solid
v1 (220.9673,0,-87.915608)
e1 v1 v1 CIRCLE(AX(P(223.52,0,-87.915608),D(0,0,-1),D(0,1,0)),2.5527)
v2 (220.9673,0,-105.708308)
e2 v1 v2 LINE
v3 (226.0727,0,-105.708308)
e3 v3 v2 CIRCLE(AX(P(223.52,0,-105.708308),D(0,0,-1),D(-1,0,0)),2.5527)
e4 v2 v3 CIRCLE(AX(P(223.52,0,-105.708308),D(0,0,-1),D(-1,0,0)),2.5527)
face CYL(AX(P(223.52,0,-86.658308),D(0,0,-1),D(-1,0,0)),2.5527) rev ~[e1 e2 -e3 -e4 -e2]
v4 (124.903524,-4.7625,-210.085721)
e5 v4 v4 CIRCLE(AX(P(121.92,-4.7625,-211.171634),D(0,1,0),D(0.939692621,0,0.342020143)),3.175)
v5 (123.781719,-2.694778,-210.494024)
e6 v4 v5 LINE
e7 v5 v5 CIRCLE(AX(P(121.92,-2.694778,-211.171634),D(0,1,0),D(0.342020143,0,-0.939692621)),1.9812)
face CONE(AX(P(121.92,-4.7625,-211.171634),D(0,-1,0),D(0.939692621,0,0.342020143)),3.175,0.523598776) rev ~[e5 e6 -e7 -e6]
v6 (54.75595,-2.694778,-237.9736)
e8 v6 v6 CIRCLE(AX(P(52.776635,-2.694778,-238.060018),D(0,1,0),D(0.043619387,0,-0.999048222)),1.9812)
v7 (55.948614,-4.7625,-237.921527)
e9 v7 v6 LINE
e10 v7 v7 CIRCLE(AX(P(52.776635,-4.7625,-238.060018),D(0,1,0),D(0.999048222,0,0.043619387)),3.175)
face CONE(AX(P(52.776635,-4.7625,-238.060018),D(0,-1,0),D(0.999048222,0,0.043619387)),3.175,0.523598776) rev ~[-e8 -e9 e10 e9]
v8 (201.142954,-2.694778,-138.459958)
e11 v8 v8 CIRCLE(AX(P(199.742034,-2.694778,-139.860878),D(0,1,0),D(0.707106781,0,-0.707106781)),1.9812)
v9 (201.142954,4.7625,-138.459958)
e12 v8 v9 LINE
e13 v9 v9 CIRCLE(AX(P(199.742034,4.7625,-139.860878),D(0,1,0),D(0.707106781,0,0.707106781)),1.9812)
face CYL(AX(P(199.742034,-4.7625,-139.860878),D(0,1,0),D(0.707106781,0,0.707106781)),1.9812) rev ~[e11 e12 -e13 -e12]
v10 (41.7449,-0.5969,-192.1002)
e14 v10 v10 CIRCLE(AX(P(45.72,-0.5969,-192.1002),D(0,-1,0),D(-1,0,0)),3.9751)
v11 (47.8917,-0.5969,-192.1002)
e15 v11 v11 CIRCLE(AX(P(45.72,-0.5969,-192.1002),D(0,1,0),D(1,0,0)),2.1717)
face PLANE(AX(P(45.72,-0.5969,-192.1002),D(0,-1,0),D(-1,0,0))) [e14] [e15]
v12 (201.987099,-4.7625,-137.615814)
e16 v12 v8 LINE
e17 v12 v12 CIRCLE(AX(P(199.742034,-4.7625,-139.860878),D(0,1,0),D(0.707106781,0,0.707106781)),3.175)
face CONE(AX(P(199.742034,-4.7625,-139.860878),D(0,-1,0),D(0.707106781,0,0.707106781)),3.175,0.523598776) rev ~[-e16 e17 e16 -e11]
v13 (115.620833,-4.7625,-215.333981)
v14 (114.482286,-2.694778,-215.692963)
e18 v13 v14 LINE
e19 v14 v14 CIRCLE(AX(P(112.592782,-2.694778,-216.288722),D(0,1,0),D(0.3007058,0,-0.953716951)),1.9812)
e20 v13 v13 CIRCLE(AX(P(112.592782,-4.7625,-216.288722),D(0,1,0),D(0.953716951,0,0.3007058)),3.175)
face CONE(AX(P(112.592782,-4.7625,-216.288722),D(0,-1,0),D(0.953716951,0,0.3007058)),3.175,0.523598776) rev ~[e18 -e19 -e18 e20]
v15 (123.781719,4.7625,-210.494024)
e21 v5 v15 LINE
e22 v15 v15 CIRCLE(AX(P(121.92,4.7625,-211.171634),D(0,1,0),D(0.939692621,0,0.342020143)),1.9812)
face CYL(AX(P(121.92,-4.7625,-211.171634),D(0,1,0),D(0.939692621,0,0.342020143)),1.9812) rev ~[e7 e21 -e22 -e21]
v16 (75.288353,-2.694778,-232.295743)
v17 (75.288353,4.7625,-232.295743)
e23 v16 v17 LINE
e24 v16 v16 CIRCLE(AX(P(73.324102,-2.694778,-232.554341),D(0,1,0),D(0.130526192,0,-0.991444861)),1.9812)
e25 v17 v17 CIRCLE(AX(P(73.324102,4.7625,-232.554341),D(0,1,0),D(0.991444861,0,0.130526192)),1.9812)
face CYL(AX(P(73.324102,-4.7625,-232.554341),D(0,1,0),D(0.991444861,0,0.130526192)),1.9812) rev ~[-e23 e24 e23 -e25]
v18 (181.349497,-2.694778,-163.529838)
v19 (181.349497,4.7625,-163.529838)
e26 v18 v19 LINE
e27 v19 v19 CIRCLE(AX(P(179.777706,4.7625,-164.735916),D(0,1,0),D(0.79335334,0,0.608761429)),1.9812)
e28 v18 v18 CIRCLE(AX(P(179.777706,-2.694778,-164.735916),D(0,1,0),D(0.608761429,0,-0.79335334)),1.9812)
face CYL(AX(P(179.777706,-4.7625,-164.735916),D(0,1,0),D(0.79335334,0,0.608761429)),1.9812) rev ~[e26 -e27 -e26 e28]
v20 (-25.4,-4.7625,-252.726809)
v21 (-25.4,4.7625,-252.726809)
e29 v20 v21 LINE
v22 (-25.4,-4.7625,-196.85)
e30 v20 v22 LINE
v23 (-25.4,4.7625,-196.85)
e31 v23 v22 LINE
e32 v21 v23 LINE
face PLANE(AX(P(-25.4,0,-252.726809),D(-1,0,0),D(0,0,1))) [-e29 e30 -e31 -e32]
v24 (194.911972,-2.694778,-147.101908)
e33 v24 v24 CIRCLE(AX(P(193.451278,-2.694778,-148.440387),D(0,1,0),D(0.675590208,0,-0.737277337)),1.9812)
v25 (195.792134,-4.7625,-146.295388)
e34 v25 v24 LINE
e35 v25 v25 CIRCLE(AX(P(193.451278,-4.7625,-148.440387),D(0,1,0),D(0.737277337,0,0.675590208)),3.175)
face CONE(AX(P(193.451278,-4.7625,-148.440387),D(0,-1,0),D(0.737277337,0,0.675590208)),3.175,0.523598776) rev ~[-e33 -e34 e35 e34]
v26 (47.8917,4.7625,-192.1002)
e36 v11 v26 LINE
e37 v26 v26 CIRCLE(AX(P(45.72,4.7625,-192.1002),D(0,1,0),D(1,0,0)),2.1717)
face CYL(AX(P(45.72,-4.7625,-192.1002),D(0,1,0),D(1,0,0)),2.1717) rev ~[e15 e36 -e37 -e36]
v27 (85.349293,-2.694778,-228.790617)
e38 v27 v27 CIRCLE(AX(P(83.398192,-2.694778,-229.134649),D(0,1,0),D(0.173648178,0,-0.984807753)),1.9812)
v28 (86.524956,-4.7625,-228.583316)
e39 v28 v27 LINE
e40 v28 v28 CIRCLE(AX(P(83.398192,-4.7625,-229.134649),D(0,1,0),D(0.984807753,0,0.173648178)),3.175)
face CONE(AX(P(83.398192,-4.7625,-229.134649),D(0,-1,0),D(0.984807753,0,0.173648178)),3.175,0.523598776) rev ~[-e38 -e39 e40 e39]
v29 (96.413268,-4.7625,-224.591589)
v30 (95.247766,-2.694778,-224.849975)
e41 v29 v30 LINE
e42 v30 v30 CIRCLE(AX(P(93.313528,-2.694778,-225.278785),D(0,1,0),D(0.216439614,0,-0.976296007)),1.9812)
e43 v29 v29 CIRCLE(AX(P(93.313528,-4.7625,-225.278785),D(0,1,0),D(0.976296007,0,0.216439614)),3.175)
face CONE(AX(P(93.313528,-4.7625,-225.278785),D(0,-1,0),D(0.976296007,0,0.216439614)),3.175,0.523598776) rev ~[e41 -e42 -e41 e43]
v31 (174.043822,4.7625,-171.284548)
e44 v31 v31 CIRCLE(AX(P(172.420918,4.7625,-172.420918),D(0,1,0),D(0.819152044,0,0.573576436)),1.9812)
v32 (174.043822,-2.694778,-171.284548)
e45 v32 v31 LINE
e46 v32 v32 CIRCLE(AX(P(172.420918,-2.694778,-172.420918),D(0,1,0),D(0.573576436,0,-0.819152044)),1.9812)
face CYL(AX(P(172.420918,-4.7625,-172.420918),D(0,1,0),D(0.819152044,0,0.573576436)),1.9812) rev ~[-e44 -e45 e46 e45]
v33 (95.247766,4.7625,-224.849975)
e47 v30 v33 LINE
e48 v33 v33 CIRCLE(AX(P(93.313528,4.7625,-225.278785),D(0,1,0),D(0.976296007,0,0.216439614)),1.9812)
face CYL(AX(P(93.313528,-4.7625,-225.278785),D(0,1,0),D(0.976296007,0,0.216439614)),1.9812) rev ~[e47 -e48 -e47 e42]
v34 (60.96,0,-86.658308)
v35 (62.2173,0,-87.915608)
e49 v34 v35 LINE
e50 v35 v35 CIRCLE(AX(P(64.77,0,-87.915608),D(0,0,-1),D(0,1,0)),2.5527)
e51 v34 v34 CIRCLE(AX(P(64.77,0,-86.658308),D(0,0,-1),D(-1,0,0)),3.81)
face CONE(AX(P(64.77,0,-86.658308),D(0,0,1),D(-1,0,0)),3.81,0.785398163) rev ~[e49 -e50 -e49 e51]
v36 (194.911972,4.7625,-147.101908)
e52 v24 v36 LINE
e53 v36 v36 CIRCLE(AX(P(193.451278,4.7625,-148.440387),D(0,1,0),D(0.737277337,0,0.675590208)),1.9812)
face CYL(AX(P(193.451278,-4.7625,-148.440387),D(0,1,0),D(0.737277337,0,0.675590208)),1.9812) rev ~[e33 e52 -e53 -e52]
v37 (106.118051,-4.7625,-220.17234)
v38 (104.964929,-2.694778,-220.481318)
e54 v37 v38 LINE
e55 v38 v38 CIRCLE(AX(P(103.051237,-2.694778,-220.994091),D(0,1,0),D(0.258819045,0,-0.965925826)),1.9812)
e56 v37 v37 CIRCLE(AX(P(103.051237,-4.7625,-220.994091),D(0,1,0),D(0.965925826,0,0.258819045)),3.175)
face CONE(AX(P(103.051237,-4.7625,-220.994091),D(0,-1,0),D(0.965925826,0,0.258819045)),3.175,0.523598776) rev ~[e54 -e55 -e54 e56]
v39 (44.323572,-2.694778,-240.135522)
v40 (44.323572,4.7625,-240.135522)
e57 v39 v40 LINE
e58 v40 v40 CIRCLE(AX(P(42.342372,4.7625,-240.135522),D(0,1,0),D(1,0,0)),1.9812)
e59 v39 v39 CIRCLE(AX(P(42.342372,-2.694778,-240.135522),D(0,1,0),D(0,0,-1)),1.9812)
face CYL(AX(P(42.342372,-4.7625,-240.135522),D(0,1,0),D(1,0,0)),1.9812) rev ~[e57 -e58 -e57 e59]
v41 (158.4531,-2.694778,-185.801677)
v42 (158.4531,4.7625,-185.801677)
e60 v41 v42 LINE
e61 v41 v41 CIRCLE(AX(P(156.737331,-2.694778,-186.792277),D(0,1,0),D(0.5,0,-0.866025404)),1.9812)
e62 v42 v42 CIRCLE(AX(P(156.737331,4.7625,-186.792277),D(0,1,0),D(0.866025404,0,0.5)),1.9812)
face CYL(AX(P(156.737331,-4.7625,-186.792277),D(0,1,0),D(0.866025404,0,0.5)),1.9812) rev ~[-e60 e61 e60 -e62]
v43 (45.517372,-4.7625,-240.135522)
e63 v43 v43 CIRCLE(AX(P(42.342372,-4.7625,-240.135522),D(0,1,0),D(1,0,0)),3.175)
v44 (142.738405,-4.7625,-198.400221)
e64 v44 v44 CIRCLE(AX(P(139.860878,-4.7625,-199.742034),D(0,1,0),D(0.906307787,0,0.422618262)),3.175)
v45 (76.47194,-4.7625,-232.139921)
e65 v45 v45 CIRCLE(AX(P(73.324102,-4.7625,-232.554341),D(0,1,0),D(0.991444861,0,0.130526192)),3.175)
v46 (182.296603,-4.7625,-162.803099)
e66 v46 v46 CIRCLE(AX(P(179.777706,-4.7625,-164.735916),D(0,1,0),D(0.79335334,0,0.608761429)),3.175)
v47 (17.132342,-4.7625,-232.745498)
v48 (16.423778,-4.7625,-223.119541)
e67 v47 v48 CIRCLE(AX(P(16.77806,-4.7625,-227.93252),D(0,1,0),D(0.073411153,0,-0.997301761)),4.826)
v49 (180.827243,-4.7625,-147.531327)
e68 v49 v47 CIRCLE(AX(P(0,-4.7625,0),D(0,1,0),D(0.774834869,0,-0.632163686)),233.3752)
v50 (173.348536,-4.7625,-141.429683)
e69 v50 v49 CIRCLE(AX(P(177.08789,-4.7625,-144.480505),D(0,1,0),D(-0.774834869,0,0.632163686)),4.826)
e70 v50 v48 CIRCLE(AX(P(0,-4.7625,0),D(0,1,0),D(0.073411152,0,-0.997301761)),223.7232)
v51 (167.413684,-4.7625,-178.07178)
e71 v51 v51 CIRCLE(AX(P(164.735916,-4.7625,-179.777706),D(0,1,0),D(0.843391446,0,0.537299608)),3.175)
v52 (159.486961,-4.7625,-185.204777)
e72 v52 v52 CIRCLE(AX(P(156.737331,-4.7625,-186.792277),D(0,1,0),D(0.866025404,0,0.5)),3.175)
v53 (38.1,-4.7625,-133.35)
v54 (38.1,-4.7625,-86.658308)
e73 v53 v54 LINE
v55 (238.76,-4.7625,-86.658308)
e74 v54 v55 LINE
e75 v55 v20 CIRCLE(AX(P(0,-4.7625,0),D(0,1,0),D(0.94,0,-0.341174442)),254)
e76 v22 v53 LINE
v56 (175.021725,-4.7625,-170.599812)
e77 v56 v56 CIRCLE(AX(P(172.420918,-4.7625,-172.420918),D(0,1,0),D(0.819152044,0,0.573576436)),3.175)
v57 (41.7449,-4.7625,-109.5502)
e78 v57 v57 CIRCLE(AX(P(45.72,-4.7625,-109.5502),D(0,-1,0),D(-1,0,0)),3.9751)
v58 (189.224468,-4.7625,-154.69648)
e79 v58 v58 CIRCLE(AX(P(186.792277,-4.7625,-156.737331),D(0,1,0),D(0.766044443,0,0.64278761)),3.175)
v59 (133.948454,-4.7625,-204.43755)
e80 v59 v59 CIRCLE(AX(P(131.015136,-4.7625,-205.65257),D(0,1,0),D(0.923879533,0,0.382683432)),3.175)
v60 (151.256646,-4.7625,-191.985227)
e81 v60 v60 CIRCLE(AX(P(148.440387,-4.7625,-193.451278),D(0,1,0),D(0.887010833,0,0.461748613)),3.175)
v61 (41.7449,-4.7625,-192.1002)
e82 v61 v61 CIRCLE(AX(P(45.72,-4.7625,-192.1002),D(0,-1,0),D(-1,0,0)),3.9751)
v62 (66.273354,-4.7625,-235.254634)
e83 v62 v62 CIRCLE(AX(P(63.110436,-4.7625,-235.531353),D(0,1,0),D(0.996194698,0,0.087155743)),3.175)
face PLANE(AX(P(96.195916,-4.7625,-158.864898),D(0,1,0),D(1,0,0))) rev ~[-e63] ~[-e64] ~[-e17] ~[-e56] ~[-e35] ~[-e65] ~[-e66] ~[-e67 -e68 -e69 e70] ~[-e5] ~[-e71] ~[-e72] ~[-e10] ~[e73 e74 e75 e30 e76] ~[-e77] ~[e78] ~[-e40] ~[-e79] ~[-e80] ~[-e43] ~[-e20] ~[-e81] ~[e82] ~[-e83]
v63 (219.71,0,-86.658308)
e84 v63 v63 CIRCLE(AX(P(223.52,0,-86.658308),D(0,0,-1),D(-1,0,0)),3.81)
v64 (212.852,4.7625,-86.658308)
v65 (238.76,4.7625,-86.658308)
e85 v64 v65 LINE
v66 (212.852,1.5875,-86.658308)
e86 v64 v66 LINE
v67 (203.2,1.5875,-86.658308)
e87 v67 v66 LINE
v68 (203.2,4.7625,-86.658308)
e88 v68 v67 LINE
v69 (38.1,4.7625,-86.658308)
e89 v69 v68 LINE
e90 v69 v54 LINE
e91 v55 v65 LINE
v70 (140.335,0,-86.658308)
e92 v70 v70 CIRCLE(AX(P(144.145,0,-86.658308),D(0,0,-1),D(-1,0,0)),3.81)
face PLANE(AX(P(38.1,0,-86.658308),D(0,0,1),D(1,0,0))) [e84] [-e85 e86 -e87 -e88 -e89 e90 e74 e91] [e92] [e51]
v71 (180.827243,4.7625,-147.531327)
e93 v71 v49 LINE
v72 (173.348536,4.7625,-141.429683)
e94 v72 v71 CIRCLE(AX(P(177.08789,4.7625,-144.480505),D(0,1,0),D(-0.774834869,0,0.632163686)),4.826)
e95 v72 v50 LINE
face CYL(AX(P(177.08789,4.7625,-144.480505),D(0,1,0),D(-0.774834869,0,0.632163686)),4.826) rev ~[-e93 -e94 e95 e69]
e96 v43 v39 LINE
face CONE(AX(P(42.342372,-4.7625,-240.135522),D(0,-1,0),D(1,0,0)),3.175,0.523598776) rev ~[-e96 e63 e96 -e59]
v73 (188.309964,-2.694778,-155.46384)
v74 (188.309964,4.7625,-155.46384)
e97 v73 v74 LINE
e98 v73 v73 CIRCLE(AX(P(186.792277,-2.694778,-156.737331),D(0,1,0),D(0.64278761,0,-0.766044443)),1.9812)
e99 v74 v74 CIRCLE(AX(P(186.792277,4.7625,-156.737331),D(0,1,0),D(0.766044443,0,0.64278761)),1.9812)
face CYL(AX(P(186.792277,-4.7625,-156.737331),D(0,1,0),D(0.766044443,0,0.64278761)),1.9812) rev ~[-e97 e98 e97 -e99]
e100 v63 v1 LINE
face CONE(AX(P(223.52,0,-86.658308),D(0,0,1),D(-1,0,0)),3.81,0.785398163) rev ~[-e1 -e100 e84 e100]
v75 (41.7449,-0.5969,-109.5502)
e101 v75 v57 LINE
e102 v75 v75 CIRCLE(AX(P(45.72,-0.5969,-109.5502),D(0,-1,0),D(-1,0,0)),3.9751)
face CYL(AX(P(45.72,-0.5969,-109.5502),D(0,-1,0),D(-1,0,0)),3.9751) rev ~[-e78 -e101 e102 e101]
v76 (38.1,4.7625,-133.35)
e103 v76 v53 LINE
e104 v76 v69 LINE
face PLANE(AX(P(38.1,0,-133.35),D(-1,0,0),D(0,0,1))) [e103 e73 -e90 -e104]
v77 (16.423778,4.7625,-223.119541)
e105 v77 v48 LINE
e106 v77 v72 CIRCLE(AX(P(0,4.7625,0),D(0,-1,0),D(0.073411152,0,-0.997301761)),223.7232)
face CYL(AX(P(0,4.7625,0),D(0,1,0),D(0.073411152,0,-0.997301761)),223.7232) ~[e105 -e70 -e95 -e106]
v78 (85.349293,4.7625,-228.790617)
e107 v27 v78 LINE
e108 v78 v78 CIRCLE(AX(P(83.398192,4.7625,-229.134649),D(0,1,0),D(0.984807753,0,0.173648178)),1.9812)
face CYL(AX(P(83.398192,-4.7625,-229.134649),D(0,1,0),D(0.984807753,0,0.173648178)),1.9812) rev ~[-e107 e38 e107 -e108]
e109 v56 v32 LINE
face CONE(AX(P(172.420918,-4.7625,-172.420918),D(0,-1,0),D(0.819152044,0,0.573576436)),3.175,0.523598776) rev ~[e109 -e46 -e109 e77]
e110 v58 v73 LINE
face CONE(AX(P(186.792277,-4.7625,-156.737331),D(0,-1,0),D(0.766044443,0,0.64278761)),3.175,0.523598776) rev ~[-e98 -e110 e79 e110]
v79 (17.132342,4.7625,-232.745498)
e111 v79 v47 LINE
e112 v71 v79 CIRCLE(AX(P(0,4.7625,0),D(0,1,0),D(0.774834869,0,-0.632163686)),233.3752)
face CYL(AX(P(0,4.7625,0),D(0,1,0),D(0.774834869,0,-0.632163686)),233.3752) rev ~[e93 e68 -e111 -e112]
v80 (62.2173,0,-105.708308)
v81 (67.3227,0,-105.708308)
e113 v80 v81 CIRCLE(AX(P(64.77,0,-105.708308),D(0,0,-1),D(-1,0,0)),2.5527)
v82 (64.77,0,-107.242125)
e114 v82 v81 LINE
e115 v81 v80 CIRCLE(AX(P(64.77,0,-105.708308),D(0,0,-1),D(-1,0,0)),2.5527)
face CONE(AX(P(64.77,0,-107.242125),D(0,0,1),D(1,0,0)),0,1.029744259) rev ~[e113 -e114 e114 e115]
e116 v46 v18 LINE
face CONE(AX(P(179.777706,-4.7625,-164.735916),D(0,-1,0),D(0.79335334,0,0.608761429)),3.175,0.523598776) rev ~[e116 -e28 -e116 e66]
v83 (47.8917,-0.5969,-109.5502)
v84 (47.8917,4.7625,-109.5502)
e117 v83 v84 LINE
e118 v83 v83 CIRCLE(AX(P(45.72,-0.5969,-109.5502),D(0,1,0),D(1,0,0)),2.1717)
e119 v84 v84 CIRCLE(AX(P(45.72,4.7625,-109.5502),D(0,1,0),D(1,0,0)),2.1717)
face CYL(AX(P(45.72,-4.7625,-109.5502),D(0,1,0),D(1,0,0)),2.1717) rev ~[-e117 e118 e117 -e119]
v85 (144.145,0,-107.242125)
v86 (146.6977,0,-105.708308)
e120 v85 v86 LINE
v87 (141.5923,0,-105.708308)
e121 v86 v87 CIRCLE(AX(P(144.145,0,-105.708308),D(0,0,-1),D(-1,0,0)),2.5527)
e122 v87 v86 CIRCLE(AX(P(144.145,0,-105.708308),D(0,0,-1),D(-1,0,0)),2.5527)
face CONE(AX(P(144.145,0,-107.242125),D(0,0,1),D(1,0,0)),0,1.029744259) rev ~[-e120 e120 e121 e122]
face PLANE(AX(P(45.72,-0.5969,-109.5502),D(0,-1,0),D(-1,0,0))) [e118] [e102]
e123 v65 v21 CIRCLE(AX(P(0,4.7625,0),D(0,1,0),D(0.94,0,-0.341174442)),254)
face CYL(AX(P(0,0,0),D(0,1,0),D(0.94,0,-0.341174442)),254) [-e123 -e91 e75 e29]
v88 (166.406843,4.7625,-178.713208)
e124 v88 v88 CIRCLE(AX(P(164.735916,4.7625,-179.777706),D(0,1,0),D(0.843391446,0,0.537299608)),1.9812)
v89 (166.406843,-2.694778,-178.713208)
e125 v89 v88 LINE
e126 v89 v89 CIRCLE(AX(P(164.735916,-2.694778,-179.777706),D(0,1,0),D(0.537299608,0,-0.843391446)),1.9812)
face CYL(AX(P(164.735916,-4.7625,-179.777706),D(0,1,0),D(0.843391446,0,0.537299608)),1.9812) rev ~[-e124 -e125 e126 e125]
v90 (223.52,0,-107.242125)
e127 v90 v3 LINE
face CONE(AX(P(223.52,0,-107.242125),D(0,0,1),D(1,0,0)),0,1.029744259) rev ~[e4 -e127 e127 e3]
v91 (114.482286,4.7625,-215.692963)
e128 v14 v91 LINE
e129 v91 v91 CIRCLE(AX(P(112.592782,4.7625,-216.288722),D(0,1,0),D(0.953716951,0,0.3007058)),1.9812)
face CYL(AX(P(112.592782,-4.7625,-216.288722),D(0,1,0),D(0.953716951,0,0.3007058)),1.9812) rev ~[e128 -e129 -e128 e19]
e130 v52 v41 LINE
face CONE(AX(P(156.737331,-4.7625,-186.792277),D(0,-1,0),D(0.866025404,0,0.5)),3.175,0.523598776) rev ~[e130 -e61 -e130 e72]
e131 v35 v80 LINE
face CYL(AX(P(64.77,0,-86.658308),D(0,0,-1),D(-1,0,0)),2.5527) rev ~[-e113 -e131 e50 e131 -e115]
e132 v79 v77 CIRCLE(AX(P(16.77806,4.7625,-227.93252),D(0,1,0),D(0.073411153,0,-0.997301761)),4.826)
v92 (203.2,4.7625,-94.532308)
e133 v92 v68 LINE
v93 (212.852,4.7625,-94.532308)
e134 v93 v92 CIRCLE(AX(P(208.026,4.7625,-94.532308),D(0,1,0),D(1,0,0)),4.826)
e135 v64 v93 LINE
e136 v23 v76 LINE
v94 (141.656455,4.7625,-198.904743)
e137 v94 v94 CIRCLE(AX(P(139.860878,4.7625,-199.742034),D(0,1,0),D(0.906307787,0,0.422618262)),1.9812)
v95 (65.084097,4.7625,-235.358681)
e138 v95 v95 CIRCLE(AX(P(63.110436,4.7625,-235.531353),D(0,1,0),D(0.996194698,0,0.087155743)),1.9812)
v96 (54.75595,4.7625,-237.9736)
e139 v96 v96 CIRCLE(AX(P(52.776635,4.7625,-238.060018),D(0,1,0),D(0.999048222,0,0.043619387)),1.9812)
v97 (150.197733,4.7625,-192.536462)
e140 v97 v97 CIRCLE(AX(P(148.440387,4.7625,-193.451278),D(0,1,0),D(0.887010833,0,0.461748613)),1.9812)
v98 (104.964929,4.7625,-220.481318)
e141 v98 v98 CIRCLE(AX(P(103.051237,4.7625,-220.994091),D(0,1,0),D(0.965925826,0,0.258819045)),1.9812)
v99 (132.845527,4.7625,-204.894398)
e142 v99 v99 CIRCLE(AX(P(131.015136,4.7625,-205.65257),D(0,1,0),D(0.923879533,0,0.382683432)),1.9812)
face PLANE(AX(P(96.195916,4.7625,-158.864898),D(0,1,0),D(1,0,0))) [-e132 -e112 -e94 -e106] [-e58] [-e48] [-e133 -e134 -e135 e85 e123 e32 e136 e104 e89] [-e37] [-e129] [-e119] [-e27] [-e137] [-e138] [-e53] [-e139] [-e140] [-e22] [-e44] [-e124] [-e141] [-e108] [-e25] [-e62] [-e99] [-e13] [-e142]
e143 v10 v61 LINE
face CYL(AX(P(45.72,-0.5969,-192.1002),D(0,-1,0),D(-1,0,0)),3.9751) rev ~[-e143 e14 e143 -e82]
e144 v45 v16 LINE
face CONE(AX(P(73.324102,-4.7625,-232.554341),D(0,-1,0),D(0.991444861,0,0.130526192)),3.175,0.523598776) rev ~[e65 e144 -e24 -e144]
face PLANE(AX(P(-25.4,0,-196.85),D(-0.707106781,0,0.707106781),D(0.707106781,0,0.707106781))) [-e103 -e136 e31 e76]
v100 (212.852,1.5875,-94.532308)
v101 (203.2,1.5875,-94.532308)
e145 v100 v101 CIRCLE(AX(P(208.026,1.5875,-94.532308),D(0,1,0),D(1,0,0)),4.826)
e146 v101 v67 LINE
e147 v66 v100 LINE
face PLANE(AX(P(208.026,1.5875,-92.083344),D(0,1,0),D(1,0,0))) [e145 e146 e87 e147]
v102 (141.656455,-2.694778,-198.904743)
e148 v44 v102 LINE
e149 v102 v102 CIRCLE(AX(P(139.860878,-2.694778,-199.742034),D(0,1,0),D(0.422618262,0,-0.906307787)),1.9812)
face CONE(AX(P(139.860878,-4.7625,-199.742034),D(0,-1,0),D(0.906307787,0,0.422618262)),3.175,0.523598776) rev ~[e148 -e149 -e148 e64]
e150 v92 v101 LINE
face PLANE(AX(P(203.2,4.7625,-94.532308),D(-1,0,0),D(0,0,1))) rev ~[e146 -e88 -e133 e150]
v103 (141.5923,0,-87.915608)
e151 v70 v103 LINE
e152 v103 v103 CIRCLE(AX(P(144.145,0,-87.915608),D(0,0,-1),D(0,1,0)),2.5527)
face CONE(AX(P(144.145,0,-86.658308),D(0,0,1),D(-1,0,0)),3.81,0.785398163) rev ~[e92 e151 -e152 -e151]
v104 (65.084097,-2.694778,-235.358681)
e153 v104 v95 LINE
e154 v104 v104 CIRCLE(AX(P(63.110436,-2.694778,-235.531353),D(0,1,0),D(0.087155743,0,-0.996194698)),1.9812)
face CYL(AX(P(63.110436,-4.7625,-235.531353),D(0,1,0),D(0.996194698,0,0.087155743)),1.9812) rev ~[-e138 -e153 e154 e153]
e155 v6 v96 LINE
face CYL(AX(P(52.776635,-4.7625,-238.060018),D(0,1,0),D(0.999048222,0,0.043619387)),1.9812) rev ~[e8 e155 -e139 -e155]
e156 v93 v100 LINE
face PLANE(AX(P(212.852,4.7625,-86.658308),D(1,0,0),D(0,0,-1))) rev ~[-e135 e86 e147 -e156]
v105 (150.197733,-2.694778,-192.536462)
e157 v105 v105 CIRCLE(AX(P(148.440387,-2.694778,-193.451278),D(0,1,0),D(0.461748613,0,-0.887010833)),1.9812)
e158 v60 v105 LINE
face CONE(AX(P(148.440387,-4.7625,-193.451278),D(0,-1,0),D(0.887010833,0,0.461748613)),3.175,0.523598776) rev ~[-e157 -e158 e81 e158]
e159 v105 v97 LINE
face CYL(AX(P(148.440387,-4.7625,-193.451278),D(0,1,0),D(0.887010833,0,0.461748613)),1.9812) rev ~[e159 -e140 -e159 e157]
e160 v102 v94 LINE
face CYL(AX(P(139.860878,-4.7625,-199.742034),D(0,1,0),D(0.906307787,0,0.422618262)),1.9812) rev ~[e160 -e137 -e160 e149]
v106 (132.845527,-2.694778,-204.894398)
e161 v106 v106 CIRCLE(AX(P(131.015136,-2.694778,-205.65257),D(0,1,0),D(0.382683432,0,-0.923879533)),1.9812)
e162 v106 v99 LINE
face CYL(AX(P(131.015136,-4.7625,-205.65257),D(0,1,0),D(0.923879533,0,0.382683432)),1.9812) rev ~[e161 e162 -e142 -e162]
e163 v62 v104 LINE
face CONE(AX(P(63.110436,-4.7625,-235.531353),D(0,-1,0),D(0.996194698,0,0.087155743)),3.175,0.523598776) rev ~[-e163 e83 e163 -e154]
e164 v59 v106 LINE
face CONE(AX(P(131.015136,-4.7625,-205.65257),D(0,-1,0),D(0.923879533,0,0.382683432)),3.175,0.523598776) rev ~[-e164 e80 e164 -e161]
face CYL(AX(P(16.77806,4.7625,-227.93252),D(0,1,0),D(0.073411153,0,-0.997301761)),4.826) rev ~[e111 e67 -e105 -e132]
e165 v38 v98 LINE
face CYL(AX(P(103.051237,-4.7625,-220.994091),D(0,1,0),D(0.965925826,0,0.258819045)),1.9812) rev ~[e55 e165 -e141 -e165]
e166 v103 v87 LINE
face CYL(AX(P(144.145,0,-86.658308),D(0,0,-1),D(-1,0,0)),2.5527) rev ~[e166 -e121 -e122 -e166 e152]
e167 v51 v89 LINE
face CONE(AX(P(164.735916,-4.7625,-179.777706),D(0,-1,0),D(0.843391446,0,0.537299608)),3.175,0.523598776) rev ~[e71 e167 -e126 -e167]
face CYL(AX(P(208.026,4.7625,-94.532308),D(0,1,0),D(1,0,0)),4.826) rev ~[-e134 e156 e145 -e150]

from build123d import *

# Parameters (mm, degrees)
BOSS_EXTRUDE1_DEPTH                                  = 4.7625
CUT_EXTRUDE2_DEPTH                                   = 349.730645664
CSK_FOR_M5_CROSS_RECESS_FLAT_HEAD_SCREW1_D           = 3.9624
CSK_FOR_M5_CROSS_RECESS_FLAT_HEAD_SCREW1_CSINK_D     = 6.35
CSK_FOR_M5_CROSS_RECESS_FLAT_HEAD_SCREW1_CSINK_ANGLE = 60
CIRPATTERN1_COUNT                                    = 19
CIRPATTERN1_ANGLE                                    = 45
CBORE_FOR_M5_CROSS_RECESS_PAN_HEAD_SCREW_D           = 4.3434
CBORE_FOR_M5_CROSS_RECESS_PAN_HEAD_SCREW_CBORE_D     = 7.9502
CBORE_FOR_M5_CROSS_RECESS_PAN_HEAD_SCREW_CBORE_DEPTH = 4.1656
CUT_EXTRUDE5_DEPTH                                   = 3.175
F_1_4_20_TAPPED_HOLE1_D                              = 5.1054
F_1_4_20_TAPPED_HOLE1_DEPTH                          = 19.05
F_1_4_20_TAPPED_HOLE1_CSINK_D                        = 7.62
F_1_4_20_TAPPED_HOLE1_CSINK_ANGLE                    = 90
F_1_4_20_TAPPED_HOLE1_TIP                            = 1.533816902


with BuildPart() as part:
    # Sketch1 → Boss-Extrude1 (new, symmetric)
    with BuildSketch(Plane(origin=(0, 0, 0), x_dir=(1, 0, 0), z_dir=(0, 1, 0))):
        with BuildLine():
            Line((38.1, 86.658308315), (238.76, 86.658308315))
            ThreePointArc((238.76, 86.658308315), (135.186201707, 215.036487295), (-25.4, 252.726809025))
            Line((-25.4, 252.726809025), (-25.4, 196.85))
            Line((-25.4, 196.85), (38.1, 133.35))
            Line((38.1, 133.35), (38.1, 86.658308315))
        make_face()
    extrude(amount=BOSS_EXTRUDE1_DEPTH, both=True)

    # Sketch2 → Cut-Extrude2 (cut, through all)
    with BuildSketch(Plane(origin=(0, 4.7625, 0), x_dir=(1, 0, 0), z_dir=(0, 1, 0))):
        with BuildLine():
            ThreePointArc((180.827242585, 147.531326552), (107.760674963, 207.006330595), (17.132342345, 232.74549796))
            ThreePointArc((17.132342345, 232.74549796), (11.965081824, 228.286801882), (16.423777903, 223.119541362))
            ThreePointArc((16.423777903, 223.119541362), (103.303877349, 198.444902033), (173.348536427, 141.429682659))
            ThreePointArc((173.348536427, 141.429682659), (180.138711452, 140.741151526), (180.827242585, 147.531326552))
        make_face()
    extrude(amount=-CUT_EXTRUDE2_DEPTH, mode=Mode.SUBTRACT)

    # CSK for M5 Cross Recess Flat Head Screw1 (through all)
    with Locations(Plane(origin=(0, -4.7625, 0), x_dir=(-1, 0, 0), z_dir=(0, -1, 0))):
        with Locations((-42.342371642, 240.135522494)):
            csk_for_m5_cross_recess_flat_head_screw1 = CounterSinkHole(CSK_FOR_M5_CROSS_RECESS_FLAT_HEAD_SCREW1_D / 2, CSK_FOR_M5_CROSS_RECESS_FLAT_HEAD_SCREW1_CSINK_D / 2, counter_sink_angle=CSK_FOR_M5_CROSS_RECESS_FLAT_HEAD_SCREW1_CSINK_ANGLE)

    # CirPattern1: CSK for M5 Cross Recess Flat Head Screw1 ×19 about axis
    cirpattern1_axis = Axis((0, 0, 0), (0, -1, 0))
    for i in range(1, CIRPATTERN1_COUNT):
        add(csk_for_m5_cross_recess_flat_head_screw1.rotate(cirpattern1_axis, i * CIRPATTERN1_ANGLE / (CIRPATTERN1_COUNT - 1)), mode=Mode.SUBTRACT)

    # CBORE for M5 Cross Recess Pan Head Screw2 (through all)
    with Locations(Plane(origin=(0, -4.7625, 0), x_dir=(-1, 0, 0), z_dir=(0, -1, 0))):
        with Locations((-45.72, 192.1002), (-45.72, 109.5502)):
            CounterBoreHole(CBORE_FOR_M5_CROSS_RECESS_PAN_HEAD_SCREW_D / 2, CBORE_FOR_M5_CROSS_RECESS_PAN_HEAD_SCREW_CBORE_D / 2, CBORE_FOR_M5_CROSS_RECESS_PAN_HEAD_SCREW_CBORE_DEPTH)

    # Sketch10 → Cut-Extrude5 (cut)
    with BuildSketch(Plane(origin=(0, 4.7625, 0), x_dir=(1, 0, 0), z_dir=(0, 1, 0))):
        with BuildLine():
            Line((203.2, 94.532308315), (203.2, 86.658308315))
            Line((203.2, 86.658308315), (212.852, 86.658308315))
            Line((212.852, 86.658308315), (212.852, 94.532308315))
            ThreePointArc((212.852, 94.532308315), (208.026, 99.358308315), (203.2, 94.532308315))
        make_face()
    extrude(amount=-CUT_EXTRUDE5_DEPTH, mode=Mode.SUBTRACT)

    # 1/4-20 Tapped Hole1
    with Locations(Plane.XY.offset(-86.658308315)):
        with Locations((64.77, 0), (144.145, 0), (223.52, 0)):
            CounterSinkHole(F_1_4_20_TAPPED_HOLE1_D / 2, F_1_4_20_TAPPED_HOLE1_CSINK_D / 2, depth=F_1_4_20_TAPPED_HOLE1_DEPTH, counter_sink_angle=F_1_4_20_TAPPED_HOLE1_CSINK_ANGLE)
            with Locations((0, 0, -(F_1_4_20_TAPPED_HOLE1_DEPTH + F_1_4_20_TAPPED_HOLE1_TIP / 2))):  # 118° drill point
                Cone(0, F_1_4_20_TAPPED_HOLE1_D / 2, F_1_4_20_TAPPED_HOLE1_TIP, mode=Mode.SUBTRACT)


solid = part.part
